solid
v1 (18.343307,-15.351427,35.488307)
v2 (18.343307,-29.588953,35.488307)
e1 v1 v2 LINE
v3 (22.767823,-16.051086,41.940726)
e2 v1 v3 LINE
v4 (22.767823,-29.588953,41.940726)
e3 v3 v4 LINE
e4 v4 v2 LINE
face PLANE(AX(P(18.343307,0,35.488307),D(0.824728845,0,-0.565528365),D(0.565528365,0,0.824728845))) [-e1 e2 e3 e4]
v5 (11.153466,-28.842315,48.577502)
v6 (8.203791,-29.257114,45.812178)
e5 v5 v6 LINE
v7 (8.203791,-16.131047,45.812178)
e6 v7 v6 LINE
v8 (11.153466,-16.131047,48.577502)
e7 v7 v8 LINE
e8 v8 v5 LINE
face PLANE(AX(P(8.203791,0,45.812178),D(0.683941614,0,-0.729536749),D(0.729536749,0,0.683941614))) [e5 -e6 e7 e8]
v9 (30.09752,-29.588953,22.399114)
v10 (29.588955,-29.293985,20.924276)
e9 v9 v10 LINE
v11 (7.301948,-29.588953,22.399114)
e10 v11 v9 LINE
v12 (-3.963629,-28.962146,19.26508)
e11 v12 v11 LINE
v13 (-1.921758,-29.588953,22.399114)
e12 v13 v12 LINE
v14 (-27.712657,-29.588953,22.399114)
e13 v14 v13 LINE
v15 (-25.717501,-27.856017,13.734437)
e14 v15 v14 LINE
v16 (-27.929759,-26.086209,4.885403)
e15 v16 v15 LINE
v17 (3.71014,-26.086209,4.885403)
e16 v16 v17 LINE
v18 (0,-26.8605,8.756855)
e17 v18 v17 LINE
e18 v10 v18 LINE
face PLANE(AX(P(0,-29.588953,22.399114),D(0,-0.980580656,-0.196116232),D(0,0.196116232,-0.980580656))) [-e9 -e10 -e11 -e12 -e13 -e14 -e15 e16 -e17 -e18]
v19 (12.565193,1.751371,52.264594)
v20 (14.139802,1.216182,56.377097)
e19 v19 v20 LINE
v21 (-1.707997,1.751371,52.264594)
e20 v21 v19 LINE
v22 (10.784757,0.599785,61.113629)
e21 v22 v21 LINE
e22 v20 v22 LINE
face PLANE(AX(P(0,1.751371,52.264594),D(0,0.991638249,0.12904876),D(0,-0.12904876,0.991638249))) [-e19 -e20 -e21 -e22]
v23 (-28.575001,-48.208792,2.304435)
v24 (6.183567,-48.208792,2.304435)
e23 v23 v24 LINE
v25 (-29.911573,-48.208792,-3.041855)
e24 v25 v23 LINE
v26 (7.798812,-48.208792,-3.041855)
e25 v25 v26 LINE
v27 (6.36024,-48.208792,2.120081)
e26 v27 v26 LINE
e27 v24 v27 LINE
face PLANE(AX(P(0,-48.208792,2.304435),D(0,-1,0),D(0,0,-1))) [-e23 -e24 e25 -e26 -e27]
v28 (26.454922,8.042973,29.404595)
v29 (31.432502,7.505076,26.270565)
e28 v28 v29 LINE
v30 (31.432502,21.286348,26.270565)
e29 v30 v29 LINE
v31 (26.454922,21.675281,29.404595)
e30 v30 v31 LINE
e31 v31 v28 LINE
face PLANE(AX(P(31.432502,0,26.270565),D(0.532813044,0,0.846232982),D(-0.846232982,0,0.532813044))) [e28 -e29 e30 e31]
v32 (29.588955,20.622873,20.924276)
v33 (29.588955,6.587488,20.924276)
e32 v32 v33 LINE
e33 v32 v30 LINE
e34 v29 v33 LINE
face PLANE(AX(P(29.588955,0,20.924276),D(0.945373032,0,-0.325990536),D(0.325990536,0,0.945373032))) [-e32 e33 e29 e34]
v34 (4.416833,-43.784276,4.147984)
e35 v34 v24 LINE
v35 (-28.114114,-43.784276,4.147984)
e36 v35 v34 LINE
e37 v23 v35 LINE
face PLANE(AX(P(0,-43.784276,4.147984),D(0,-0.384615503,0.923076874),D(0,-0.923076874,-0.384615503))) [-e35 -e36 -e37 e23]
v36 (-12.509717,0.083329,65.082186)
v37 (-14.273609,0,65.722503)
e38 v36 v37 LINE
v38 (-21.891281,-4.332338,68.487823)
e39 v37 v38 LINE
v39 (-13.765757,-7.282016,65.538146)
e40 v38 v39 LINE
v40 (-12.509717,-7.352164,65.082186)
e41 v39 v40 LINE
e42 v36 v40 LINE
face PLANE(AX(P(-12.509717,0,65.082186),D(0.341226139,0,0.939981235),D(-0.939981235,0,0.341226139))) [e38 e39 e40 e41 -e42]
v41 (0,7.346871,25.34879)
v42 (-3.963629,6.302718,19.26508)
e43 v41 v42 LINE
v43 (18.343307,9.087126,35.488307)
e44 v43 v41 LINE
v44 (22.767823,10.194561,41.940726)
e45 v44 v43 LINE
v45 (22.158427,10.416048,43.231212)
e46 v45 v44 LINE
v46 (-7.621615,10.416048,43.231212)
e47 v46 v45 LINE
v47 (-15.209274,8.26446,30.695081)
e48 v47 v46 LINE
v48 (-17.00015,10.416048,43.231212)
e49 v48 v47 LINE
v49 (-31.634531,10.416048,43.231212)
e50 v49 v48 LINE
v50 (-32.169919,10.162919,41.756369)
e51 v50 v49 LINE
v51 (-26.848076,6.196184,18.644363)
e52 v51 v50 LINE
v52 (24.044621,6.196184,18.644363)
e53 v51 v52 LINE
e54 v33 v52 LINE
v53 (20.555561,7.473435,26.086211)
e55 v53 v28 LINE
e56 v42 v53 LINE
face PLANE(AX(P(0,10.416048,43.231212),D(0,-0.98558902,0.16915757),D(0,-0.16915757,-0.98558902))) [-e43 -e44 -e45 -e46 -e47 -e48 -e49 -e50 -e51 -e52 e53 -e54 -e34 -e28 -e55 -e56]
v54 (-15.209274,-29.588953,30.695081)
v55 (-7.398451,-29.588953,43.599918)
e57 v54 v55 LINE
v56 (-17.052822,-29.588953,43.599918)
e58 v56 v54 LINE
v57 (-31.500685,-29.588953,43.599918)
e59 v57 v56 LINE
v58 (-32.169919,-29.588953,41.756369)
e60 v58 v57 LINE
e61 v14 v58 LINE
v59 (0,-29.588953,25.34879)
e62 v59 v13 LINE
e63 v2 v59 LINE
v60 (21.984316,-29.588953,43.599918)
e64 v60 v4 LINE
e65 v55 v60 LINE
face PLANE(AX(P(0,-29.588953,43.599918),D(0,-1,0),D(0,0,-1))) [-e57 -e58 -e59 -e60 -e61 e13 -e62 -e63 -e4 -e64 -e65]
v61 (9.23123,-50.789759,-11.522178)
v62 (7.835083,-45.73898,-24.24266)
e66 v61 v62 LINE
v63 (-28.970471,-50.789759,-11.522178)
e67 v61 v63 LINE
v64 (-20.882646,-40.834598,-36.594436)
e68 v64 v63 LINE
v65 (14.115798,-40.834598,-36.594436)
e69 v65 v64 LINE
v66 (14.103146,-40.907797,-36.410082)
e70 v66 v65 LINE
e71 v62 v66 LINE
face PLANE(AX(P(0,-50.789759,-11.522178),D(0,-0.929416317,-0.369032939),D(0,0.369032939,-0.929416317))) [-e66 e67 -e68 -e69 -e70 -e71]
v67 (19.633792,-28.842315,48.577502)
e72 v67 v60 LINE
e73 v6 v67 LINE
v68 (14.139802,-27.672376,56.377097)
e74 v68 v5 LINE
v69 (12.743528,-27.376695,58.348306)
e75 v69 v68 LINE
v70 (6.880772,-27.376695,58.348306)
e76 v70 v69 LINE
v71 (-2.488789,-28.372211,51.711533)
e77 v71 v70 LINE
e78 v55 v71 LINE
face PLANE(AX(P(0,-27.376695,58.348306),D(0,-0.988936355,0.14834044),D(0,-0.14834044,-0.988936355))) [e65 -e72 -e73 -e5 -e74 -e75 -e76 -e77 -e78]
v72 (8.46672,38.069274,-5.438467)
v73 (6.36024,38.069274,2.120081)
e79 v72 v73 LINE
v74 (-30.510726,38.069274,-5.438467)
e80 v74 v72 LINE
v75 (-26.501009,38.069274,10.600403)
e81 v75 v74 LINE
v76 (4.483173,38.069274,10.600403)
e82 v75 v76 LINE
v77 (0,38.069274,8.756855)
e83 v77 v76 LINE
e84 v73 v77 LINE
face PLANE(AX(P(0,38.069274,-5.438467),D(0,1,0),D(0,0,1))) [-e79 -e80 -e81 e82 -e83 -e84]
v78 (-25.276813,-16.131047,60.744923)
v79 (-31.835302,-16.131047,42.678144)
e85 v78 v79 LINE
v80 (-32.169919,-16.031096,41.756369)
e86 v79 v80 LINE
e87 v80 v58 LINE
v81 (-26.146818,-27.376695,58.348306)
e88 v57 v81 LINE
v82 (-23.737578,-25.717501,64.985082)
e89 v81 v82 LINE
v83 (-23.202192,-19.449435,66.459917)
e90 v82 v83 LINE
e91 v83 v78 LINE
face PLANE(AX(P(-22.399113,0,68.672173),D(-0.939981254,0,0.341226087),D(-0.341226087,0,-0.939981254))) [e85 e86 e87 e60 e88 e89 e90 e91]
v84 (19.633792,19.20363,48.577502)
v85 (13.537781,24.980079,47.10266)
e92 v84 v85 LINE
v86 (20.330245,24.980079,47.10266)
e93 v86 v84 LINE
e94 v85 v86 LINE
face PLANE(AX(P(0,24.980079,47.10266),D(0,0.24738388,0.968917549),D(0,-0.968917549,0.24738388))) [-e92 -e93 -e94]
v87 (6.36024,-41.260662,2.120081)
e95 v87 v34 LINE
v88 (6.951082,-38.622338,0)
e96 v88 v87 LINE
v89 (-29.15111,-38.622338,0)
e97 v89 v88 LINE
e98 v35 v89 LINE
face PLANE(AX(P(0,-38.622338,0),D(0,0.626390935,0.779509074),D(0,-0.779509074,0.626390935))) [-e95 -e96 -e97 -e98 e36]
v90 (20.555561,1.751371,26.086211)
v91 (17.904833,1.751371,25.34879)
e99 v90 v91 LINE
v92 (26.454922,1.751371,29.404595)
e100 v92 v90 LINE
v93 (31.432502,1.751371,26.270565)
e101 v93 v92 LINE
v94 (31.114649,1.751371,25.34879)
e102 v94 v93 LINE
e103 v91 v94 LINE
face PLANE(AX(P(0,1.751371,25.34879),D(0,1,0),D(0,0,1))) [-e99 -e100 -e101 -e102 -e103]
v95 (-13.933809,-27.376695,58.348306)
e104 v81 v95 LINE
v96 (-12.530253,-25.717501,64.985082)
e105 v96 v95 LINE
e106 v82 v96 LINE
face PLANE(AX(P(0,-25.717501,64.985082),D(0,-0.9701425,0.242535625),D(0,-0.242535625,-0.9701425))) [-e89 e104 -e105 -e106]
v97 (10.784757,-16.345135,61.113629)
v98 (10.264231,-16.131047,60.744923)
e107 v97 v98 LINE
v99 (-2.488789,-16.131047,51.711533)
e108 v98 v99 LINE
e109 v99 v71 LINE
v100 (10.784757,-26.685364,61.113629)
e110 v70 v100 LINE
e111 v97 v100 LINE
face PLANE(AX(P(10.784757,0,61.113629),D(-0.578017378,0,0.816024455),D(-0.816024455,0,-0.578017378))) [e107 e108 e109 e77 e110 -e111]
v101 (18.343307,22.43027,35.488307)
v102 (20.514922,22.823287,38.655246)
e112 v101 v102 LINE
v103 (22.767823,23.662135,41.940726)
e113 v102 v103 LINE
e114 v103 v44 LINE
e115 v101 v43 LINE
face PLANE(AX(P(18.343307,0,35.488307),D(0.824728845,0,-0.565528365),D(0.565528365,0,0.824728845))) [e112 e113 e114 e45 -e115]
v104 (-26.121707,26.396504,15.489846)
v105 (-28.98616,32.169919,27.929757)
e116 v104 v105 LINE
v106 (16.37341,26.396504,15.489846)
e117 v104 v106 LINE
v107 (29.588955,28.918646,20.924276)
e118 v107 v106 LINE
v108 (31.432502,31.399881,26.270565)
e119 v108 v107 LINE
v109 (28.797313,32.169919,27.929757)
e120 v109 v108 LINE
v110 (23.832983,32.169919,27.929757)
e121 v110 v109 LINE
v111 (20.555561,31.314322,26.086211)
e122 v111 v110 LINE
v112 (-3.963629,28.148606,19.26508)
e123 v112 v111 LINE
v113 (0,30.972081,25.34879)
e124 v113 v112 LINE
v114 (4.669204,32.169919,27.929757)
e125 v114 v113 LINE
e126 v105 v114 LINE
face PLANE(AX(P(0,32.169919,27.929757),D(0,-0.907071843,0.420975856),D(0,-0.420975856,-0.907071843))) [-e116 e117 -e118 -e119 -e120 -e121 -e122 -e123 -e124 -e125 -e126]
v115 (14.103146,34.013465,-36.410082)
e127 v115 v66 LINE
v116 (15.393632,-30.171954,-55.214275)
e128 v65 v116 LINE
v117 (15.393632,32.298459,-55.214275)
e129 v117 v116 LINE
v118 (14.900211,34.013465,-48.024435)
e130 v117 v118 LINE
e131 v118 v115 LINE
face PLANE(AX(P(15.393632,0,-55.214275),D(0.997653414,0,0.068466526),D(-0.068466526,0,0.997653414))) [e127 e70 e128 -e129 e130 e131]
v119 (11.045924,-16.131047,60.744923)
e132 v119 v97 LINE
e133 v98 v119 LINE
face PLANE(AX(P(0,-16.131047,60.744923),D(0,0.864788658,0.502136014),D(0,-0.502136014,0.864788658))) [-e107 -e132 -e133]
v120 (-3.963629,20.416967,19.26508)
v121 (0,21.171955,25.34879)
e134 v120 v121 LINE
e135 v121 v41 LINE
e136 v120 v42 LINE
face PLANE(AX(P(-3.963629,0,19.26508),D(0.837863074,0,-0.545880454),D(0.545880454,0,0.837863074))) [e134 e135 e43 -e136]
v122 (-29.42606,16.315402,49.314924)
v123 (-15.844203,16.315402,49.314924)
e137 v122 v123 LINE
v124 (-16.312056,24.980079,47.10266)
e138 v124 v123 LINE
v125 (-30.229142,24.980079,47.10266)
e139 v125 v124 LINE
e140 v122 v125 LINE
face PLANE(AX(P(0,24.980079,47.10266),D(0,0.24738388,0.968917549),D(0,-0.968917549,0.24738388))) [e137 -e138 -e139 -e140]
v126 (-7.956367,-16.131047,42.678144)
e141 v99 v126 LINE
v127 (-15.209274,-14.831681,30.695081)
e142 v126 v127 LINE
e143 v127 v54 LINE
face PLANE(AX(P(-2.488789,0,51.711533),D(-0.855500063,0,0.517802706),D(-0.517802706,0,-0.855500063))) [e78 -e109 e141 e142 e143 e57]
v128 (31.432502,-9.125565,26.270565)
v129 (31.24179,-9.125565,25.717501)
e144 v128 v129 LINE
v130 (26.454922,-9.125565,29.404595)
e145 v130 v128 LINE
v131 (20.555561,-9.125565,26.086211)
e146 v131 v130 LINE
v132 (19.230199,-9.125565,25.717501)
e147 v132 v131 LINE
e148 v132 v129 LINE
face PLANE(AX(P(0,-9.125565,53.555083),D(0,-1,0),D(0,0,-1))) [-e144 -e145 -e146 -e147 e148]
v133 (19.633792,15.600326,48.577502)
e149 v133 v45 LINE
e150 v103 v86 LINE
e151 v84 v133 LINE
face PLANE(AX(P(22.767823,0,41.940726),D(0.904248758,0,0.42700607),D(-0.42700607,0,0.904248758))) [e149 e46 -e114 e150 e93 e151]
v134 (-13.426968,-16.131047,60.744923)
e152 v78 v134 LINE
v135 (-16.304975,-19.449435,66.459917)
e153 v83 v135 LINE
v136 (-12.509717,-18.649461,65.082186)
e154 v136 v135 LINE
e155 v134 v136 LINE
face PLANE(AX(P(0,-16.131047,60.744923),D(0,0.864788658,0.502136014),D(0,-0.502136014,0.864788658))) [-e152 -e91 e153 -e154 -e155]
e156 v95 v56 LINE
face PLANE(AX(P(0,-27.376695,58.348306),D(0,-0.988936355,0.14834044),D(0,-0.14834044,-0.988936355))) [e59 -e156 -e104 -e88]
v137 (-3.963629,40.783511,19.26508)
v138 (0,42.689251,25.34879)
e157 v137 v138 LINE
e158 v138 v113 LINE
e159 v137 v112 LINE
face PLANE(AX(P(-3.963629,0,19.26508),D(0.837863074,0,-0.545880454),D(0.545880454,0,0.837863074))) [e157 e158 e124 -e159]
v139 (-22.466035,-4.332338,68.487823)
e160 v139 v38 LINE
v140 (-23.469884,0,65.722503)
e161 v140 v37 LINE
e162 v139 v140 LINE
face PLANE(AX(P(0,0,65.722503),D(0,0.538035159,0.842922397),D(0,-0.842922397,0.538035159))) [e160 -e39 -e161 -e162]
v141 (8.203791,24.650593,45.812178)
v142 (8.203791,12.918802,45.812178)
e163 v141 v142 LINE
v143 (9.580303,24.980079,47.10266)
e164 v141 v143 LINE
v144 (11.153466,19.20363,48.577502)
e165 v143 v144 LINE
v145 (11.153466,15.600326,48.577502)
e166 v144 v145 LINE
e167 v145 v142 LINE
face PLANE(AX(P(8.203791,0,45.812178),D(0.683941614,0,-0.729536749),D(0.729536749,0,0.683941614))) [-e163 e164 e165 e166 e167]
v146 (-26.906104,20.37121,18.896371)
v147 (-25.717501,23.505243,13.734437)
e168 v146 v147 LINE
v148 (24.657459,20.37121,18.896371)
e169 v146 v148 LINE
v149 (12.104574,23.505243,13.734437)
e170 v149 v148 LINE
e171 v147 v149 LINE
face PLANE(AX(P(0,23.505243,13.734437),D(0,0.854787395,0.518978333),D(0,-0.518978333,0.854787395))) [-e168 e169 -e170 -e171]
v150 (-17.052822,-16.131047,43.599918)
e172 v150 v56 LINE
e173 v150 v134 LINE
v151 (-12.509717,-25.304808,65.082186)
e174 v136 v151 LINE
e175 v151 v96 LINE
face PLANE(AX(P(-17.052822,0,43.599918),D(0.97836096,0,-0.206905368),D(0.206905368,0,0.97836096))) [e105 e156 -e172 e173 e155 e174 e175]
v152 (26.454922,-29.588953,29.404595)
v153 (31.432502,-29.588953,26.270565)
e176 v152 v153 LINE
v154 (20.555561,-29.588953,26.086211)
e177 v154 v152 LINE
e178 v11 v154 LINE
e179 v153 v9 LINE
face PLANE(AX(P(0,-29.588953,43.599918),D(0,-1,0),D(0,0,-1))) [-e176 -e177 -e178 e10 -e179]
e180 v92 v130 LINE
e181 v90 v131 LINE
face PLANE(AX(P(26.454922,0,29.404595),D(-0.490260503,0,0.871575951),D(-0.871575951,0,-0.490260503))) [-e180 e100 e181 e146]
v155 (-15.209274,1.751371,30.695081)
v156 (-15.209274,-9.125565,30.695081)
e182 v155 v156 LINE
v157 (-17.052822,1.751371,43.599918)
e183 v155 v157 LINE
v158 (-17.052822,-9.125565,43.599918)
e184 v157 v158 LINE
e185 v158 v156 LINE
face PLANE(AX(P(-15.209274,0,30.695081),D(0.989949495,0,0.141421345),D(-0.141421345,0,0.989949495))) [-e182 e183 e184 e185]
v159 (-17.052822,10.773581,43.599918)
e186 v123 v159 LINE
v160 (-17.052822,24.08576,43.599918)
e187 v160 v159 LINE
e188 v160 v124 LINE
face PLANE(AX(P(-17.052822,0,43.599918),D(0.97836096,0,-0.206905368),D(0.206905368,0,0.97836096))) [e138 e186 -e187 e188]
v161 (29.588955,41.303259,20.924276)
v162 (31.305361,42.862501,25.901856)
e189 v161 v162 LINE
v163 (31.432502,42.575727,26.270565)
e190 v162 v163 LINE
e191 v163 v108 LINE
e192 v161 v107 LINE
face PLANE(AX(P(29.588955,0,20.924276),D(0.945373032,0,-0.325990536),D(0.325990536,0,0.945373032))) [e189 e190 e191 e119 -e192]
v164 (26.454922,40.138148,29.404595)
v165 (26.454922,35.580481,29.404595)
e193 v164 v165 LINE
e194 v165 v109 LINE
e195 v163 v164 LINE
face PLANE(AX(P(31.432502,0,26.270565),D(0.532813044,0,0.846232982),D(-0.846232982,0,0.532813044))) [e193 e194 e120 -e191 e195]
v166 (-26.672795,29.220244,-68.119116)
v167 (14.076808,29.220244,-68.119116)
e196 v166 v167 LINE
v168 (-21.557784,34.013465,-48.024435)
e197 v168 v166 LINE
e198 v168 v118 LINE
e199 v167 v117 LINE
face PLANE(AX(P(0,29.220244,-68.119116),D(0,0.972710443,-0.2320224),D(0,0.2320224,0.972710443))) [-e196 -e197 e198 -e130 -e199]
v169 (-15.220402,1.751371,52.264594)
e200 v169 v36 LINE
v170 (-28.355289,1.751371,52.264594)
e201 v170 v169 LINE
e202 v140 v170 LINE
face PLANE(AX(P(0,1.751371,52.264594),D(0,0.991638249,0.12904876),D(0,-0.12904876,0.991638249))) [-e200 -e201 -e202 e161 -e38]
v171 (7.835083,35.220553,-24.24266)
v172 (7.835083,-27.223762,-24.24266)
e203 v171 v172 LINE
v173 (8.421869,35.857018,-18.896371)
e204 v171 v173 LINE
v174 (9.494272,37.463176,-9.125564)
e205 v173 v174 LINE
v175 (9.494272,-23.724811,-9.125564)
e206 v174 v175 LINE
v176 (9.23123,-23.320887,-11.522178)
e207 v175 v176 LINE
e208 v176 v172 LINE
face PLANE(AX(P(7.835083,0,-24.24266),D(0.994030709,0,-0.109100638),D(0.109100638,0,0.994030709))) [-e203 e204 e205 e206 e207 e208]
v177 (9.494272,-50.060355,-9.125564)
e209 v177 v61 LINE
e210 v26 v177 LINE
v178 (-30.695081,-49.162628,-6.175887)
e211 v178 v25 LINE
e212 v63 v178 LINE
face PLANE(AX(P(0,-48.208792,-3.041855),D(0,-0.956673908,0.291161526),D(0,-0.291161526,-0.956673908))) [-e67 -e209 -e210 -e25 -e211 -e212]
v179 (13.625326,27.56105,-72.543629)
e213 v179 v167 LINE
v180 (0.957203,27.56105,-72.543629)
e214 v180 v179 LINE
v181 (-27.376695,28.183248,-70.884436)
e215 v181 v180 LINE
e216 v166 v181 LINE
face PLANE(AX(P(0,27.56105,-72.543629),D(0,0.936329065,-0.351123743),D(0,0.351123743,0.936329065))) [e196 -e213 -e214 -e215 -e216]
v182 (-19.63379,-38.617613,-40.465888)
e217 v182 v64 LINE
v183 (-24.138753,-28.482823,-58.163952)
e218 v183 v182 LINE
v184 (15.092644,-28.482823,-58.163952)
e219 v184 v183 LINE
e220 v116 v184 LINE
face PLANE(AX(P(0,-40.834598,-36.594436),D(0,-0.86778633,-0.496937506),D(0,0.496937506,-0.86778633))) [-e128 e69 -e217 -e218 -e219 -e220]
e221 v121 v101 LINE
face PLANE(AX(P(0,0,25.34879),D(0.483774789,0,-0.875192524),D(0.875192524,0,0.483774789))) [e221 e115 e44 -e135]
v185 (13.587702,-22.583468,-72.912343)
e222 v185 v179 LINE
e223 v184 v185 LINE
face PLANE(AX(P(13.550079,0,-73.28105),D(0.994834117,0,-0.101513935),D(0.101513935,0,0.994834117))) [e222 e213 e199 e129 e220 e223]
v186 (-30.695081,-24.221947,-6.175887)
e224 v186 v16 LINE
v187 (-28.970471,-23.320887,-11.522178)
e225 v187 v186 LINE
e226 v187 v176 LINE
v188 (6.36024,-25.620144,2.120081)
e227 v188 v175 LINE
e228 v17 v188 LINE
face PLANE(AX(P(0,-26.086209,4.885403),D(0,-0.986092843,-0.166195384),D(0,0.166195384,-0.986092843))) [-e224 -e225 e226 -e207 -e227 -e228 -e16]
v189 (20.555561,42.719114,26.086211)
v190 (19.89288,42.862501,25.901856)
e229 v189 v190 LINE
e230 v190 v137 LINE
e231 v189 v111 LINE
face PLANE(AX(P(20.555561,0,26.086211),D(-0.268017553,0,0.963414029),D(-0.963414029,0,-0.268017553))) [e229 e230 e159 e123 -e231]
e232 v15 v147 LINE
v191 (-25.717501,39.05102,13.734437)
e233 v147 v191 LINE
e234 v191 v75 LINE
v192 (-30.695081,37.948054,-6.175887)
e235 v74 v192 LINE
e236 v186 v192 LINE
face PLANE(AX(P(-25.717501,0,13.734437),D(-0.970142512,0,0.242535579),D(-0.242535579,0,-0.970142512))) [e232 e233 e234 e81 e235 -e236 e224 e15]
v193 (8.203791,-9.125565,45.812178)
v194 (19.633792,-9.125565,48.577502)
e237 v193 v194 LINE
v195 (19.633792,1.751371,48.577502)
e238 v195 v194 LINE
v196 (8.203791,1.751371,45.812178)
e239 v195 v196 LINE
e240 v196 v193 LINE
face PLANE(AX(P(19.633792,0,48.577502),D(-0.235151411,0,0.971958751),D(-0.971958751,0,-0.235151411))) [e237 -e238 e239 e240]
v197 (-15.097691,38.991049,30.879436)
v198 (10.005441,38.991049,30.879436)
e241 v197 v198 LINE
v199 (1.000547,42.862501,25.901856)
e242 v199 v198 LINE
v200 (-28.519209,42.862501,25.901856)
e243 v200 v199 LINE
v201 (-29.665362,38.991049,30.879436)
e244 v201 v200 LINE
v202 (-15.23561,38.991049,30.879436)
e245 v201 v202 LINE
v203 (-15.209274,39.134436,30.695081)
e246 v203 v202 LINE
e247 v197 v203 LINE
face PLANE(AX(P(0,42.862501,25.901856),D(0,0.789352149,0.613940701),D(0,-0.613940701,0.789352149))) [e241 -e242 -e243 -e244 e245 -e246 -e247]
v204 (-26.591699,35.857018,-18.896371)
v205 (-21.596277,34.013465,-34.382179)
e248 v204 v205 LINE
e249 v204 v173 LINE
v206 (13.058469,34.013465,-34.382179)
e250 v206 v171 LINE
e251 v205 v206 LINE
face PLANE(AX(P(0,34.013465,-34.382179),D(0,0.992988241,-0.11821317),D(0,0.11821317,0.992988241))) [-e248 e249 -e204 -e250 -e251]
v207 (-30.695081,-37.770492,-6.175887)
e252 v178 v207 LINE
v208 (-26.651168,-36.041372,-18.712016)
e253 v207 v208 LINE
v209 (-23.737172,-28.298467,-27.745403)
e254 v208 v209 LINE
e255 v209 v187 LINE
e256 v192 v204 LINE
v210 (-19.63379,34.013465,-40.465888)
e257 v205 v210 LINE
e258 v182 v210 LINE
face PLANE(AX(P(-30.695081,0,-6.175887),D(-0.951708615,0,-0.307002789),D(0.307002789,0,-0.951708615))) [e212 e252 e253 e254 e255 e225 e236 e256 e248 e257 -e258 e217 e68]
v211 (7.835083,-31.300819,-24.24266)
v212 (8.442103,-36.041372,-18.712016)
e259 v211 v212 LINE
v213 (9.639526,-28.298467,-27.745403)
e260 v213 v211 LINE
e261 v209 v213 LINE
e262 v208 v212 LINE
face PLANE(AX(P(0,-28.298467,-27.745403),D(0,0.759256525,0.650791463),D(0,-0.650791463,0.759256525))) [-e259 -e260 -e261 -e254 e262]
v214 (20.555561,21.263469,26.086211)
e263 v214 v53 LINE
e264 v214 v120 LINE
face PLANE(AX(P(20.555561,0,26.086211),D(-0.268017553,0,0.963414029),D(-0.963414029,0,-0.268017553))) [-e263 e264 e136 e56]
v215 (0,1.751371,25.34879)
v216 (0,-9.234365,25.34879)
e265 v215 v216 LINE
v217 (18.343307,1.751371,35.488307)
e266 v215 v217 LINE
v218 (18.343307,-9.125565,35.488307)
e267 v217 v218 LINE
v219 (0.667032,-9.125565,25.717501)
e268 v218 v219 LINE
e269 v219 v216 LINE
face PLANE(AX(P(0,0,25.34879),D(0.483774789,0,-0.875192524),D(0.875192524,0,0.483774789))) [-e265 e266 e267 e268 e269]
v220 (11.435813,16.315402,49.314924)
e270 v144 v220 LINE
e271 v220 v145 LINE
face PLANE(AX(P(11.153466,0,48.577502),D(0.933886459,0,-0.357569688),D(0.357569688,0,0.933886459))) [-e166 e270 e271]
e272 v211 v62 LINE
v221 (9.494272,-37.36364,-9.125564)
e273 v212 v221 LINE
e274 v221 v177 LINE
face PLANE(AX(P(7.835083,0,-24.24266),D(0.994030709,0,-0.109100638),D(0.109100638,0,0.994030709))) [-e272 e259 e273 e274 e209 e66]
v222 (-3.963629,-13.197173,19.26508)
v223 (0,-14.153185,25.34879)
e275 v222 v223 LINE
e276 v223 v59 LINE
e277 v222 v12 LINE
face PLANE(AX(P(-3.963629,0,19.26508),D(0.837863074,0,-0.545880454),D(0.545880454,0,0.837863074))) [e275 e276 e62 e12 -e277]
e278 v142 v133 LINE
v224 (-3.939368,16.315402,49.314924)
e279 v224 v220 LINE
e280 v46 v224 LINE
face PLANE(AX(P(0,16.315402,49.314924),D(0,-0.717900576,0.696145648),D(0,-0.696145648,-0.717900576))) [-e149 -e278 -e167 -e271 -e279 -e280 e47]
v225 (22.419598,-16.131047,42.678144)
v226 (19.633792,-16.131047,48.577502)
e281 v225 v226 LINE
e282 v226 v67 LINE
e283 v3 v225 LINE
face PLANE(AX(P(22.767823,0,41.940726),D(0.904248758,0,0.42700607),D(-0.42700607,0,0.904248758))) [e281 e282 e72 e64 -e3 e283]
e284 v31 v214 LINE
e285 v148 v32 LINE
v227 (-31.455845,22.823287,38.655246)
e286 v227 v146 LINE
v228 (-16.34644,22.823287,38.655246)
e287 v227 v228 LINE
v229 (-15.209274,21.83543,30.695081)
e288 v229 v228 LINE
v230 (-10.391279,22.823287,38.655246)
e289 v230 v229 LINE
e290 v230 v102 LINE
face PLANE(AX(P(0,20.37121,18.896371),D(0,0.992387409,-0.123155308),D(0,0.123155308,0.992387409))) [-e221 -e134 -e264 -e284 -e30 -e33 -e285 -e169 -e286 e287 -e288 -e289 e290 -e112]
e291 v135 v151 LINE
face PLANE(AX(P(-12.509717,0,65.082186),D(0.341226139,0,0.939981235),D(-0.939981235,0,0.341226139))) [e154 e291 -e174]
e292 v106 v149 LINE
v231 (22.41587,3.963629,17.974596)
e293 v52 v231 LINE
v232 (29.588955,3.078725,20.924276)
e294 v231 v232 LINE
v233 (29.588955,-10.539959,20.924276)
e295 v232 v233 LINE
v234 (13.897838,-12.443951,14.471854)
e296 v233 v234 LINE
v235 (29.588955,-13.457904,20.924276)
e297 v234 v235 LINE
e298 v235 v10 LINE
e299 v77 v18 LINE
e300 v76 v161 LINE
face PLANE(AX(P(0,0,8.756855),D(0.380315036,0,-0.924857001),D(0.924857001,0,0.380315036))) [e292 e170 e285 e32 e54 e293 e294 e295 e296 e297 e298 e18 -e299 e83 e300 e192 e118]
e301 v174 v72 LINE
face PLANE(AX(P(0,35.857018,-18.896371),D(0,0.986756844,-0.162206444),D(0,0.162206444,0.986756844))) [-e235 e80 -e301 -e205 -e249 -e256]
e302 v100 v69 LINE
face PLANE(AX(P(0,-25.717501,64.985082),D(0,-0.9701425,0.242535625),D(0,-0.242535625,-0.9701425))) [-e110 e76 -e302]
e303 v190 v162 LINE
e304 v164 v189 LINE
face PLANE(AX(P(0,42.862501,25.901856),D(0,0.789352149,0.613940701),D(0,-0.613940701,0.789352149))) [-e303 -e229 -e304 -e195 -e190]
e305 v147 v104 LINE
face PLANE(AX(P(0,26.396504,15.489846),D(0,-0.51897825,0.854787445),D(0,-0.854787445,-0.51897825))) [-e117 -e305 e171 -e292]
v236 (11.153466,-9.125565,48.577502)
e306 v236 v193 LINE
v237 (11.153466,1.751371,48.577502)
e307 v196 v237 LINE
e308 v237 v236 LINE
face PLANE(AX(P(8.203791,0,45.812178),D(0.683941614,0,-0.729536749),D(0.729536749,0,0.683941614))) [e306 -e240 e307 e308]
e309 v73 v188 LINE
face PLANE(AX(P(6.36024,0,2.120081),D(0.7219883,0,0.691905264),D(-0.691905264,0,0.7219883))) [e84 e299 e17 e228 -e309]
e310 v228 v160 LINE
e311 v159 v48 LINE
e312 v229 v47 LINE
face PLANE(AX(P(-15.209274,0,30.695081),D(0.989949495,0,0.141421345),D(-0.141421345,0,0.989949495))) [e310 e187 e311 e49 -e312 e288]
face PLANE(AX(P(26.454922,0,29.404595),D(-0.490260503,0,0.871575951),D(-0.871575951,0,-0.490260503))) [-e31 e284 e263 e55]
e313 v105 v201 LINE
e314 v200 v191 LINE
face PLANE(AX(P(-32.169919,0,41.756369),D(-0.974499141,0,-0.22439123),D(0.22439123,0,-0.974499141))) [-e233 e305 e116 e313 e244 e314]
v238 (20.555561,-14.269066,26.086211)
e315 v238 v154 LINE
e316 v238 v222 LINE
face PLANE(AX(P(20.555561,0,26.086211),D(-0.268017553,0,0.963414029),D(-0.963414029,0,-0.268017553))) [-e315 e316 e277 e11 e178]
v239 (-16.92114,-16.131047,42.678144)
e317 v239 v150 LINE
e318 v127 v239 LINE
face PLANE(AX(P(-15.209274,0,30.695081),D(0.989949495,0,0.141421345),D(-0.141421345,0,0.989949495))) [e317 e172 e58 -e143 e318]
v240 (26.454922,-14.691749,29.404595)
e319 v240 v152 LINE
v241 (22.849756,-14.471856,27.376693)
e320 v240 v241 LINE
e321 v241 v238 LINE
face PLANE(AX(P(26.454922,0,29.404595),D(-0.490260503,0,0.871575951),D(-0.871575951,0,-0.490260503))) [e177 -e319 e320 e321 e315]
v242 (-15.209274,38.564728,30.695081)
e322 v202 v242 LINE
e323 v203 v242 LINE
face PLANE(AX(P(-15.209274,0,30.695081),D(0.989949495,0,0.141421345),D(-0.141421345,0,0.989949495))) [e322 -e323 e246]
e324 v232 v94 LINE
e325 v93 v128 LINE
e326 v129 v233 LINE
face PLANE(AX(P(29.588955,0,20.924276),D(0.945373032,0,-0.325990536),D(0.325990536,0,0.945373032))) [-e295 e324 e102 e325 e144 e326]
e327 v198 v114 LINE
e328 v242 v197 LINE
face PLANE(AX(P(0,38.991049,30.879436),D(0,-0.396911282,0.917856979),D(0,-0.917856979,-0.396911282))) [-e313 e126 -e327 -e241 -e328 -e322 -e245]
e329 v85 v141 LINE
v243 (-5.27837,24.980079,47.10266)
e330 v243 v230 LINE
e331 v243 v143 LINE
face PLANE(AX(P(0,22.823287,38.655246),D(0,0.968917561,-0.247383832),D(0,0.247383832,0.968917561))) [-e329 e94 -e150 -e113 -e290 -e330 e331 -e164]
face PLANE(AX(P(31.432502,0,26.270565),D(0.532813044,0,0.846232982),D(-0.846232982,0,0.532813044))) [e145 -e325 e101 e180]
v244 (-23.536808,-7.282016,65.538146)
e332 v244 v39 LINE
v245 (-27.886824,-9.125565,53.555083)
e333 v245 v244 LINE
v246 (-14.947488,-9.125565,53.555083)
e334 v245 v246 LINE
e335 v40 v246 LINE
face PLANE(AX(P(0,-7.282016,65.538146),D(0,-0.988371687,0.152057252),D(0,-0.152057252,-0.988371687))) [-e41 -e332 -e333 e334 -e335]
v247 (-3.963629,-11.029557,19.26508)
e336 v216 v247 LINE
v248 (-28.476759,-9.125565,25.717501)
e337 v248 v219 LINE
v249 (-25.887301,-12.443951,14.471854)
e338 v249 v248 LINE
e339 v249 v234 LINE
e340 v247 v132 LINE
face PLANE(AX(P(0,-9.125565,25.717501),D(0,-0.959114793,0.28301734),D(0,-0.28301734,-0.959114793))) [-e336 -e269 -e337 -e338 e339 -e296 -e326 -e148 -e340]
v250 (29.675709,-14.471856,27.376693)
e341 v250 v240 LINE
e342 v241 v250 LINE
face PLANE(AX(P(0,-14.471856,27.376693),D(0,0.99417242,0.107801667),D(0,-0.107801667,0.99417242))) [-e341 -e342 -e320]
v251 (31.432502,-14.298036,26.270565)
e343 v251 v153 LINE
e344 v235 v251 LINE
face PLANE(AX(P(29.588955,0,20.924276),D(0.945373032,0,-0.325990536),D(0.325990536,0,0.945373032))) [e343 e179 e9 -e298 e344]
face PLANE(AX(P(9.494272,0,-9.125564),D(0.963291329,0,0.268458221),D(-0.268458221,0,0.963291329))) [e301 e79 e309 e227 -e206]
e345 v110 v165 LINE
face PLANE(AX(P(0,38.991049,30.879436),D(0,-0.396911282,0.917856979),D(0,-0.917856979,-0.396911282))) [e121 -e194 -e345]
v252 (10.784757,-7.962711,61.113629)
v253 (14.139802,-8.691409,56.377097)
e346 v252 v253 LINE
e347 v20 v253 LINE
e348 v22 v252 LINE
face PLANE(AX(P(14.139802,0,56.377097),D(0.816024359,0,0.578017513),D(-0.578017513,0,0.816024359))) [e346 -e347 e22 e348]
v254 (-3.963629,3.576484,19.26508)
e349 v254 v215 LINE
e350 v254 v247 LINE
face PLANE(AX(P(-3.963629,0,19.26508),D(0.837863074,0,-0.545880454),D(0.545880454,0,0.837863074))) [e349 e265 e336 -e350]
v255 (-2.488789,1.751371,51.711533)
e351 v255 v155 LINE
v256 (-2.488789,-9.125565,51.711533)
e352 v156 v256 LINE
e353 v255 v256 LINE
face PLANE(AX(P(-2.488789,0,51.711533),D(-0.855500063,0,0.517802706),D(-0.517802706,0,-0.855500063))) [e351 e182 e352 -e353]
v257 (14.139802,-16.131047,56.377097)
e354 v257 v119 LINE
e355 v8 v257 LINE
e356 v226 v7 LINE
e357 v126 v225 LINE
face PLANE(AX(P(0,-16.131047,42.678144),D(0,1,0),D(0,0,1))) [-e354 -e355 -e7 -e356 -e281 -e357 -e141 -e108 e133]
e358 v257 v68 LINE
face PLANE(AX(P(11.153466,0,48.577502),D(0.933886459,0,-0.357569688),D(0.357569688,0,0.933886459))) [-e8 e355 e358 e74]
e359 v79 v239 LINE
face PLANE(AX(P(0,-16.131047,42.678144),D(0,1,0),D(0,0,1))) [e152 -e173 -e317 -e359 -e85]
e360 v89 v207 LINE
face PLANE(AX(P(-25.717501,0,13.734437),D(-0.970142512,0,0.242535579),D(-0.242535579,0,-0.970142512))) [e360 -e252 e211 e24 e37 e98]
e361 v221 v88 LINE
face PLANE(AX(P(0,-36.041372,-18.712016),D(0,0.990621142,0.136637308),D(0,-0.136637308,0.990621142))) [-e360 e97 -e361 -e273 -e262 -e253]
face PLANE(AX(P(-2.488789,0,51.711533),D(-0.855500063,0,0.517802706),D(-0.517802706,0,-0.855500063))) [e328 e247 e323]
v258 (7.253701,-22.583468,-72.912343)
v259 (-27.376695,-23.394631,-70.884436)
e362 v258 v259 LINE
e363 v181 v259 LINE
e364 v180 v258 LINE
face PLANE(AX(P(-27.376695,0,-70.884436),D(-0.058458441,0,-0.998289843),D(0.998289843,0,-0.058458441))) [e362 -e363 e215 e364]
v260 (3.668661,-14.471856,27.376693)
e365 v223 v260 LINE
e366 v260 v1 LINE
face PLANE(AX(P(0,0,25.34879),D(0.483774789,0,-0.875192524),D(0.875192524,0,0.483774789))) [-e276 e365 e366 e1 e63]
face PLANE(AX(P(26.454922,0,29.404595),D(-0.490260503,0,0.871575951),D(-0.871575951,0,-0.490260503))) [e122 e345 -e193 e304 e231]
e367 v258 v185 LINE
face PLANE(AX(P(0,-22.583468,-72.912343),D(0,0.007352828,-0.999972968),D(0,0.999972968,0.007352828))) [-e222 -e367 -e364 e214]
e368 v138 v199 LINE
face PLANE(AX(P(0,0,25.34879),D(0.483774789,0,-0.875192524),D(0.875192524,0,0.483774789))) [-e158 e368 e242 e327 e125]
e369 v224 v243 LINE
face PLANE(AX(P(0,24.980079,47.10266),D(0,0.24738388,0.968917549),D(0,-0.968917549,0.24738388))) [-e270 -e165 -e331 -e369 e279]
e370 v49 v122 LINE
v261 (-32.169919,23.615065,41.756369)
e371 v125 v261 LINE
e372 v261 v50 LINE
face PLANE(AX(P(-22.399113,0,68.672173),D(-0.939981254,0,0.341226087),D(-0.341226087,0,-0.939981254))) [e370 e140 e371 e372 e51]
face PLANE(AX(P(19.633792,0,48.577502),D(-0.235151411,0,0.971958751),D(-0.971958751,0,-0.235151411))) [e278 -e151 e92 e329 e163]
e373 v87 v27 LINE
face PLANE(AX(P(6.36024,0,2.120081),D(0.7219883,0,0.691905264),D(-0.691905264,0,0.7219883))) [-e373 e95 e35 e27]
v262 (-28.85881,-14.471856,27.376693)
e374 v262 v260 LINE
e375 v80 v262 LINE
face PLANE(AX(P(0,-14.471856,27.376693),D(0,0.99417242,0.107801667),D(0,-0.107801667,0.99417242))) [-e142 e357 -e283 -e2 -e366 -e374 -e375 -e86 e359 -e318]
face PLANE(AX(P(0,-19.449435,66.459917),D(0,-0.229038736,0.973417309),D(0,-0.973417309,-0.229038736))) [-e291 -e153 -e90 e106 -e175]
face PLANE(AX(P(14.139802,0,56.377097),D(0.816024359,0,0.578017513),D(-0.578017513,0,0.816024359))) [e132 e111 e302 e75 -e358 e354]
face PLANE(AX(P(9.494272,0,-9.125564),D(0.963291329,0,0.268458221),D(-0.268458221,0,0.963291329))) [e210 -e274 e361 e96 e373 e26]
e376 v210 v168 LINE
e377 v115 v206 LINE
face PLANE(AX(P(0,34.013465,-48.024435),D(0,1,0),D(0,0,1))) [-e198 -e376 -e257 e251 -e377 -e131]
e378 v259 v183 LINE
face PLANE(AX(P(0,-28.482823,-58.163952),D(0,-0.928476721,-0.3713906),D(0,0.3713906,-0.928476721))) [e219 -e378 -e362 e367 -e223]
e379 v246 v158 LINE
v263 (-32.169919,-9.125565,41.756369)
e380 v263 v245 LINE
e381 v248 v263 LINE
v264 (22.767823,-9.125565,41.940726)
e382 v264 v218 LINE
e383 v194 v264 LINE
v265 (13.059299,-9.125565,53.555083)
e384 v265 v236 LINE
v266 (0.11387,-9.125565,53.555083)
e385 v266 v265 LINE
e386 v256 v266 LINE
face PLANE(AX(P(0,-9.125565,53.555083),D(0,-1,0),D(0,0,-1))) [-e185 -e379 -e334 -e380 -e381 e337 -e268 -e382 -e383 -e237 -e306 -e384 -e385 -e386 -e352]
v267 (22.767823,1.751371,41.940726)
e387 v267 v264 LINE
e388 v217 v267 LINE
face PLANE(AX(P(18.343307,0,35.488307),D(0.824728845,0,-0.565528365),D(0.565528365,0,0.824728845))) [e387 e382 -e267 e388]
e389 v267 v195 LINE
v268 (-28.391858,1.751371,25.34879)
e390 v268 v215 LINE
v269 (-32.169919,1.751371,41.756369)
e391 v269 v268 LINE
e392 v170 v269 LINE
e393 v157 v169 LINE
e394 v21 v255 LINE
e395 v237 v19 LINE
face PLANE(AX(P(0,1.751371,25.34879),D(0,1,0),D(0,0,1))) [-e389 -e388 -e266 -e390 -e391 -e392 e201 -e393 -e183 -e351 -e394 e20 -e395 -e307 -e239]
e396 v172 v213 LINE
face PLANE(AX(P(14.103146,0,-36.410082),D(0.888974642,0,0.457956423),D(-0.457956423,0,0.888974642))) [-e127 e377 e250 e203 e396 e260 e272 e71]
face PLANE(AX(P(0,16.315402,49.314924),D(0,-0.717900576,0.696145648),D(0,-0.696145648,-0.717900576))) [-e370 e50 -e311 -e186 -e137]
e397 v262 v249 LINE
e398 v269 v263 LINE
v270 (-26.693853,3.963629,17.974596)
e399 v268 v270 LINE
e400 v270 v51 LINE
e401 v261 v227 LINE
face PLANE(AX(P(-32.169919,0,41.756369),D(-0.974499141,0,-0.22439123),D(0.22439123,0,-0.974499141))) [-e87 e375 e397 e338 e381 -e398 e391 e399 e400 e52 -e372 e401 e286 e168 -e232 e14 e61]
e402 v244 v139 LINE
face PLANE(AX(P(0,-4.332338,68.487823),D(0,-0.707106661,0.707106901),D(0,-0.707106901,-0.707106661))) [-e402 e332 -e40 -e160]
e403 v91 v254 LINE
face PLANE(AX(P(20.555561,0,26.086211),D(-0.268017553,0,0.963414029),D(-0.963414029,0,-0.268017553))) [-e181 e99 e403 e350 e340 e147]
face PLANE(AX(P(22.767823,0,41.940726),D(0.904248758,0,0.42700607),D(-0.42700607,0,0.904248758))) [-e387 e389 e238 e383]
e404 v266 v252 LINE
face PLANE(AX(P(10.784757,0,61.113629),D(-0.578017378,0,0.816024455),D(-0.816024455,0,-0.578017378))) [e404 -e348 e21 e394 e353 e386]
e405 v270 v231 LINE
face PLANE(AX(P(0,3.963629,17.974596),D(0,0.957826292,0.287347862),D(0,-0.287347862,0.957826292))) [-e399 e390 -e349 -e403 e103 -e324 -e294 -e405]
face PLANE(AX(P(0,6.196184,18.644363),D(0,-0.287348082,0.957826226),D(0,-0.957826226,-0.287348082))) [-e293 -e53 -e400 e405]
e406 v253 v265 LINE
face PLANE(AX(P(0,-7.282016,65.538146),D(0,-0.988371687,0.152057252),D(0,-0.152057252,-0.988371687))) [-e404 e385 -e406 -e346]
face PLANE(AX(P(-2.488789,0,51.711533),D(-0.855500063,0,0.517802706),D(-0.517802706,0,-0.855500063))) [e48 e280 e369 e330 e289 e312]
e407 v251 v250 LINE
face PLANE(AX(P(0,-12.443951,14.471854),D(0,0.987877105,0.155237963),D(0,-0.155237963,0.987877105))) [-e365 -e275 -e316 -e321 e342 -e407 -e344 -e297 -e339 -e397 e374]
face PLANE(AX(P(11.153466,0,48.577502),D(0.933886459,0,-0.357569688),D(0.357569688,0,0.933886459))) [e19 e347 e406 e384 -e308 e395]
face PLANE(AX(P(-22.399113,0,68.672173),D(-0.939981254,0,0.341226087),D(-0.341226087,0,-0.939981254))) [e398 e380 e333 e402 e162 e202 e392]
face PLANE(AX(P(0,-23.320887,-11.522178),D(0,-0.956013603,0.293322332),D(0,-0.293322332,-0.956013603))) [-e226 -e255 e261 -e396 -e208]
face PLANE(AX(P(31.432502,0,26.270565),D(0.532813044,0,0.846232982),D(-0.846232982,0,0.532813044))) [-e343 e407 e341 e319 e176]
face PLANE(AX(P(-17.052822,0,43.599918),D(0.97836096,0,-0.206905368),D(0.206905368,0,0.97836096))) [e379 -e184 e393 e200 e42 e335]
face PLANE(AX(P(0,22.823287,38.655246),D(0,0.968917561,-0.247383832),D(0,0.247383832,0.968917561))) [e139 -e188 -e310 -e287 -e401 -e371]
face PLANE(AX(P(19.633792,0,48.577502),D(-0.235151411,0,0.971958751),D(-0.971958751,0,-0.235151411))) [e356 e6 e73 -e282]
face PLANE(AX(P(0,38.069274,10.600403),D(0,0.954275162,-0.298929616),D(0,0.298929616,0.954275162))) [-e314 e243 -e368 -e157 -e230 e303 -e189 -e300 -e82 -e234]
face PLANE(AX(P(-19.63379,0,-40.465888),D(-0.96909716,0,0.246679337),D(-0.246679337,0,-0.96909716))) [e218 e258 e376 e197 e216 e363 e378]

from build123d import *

# Parameters (mm, degrees)
F1_DEPTH = 50.8
F3_DEPTH = 88.9


with BuildPart() as f1:
    # F0 (on Front) → F1 (new body, symmetric)
    with BuildSketch(Plane.XZ):
        Polygon((-19.63379, -40.465888), (-27.376695, -70.884436), (13.550079, -73.28105), (15.393632, -55.214275), (14.103146, -36.410082), (7.835083, -24.24266), (9.494272, -9.125564), (6.36024, 2.120081), (0, 8.756855), (29.588955, 20.924276), (31.432502, 26.270565), (26.454922, 29.404595), (20.555561, 26.086211), (-3.963629, 19.26508), (0, 25.34879), (18.343307, 35.488307), (22.767823, 41.940726), (19.633792, 48.577502), (8.203791, 45.812178), (11.153466, 48.577502), (14.139802, 56.377097), (10.784757, 61.113629), (-2.488789, 51.711533), (-15.209274, 30.695081), (-17.052822, 43.599918), (-12.509717, 65.082186), (-22.399113, 68.672173), (-32.169919, 41.756369), (-25.717501, 13.734437), (-30.695081, -6.175887), align=None)
    extrude(amount=F1_DEPTH, both=True)

    # F2 (on Right) → F3 (intersect, symmetric)
    with BuildSketch(Plane.YZ):
        Polygon((-28.482823, -58.163952), (-22.583468, -72.912343), (27.56105, -72.543629), (29.220244, -68.119116), (34.013465, -48.024435), (34.013465, -34.382179), (35.857018, -18.896371), (38.069274, -5.438467), (38.069274, 10.600403), (42.862501, 25.901856), (38.991049, 30.879436), (32.169919, 27.929757), (26.396504, 15.489846), (23.505243, 13.734437), (20.37121, 18.896371), (22.823287, 38.655246), (24.980079, 47.10266), (16.315402, 49.314924), (10.416048, 43.231212), (6.196184, 18.644363), (3.963629, 17.974596), (1.751371, 25.34879), (1.751371, 52.264594), (0, 65.722503), (-4.332338, 68.487823), (-7.282016, 65.538146), (-9.125565, 53.555083), (-9.125565, 25.717501), (-12.443951, 14.471854), (-14.471856, 27.376693), (-16.131047, 42.678144), (-16.131047, 60.744923), (-19.449435, 66.459917), (-25.717501, 64.985082), (-27.376695, 58.348306), (-29.588953, 43.599918), (-29.588953, 22.399114), (-26.086209, 4.885403), (-23.320887, -11.522178), (-28.298467, -27.745403), (-36.041372, -18.712016), (-38.622338, 0), (-43.784276, 4.147984), (-48.208792, 2.304435), (-48.208792, -3.041855), (-50.789759, -11.522178), (-40.834598, -36.594436), align=None)
    extrude(amount=F3_DEPTH, both=True, mode=Mode.INTERSECT)


solid = f1.part
